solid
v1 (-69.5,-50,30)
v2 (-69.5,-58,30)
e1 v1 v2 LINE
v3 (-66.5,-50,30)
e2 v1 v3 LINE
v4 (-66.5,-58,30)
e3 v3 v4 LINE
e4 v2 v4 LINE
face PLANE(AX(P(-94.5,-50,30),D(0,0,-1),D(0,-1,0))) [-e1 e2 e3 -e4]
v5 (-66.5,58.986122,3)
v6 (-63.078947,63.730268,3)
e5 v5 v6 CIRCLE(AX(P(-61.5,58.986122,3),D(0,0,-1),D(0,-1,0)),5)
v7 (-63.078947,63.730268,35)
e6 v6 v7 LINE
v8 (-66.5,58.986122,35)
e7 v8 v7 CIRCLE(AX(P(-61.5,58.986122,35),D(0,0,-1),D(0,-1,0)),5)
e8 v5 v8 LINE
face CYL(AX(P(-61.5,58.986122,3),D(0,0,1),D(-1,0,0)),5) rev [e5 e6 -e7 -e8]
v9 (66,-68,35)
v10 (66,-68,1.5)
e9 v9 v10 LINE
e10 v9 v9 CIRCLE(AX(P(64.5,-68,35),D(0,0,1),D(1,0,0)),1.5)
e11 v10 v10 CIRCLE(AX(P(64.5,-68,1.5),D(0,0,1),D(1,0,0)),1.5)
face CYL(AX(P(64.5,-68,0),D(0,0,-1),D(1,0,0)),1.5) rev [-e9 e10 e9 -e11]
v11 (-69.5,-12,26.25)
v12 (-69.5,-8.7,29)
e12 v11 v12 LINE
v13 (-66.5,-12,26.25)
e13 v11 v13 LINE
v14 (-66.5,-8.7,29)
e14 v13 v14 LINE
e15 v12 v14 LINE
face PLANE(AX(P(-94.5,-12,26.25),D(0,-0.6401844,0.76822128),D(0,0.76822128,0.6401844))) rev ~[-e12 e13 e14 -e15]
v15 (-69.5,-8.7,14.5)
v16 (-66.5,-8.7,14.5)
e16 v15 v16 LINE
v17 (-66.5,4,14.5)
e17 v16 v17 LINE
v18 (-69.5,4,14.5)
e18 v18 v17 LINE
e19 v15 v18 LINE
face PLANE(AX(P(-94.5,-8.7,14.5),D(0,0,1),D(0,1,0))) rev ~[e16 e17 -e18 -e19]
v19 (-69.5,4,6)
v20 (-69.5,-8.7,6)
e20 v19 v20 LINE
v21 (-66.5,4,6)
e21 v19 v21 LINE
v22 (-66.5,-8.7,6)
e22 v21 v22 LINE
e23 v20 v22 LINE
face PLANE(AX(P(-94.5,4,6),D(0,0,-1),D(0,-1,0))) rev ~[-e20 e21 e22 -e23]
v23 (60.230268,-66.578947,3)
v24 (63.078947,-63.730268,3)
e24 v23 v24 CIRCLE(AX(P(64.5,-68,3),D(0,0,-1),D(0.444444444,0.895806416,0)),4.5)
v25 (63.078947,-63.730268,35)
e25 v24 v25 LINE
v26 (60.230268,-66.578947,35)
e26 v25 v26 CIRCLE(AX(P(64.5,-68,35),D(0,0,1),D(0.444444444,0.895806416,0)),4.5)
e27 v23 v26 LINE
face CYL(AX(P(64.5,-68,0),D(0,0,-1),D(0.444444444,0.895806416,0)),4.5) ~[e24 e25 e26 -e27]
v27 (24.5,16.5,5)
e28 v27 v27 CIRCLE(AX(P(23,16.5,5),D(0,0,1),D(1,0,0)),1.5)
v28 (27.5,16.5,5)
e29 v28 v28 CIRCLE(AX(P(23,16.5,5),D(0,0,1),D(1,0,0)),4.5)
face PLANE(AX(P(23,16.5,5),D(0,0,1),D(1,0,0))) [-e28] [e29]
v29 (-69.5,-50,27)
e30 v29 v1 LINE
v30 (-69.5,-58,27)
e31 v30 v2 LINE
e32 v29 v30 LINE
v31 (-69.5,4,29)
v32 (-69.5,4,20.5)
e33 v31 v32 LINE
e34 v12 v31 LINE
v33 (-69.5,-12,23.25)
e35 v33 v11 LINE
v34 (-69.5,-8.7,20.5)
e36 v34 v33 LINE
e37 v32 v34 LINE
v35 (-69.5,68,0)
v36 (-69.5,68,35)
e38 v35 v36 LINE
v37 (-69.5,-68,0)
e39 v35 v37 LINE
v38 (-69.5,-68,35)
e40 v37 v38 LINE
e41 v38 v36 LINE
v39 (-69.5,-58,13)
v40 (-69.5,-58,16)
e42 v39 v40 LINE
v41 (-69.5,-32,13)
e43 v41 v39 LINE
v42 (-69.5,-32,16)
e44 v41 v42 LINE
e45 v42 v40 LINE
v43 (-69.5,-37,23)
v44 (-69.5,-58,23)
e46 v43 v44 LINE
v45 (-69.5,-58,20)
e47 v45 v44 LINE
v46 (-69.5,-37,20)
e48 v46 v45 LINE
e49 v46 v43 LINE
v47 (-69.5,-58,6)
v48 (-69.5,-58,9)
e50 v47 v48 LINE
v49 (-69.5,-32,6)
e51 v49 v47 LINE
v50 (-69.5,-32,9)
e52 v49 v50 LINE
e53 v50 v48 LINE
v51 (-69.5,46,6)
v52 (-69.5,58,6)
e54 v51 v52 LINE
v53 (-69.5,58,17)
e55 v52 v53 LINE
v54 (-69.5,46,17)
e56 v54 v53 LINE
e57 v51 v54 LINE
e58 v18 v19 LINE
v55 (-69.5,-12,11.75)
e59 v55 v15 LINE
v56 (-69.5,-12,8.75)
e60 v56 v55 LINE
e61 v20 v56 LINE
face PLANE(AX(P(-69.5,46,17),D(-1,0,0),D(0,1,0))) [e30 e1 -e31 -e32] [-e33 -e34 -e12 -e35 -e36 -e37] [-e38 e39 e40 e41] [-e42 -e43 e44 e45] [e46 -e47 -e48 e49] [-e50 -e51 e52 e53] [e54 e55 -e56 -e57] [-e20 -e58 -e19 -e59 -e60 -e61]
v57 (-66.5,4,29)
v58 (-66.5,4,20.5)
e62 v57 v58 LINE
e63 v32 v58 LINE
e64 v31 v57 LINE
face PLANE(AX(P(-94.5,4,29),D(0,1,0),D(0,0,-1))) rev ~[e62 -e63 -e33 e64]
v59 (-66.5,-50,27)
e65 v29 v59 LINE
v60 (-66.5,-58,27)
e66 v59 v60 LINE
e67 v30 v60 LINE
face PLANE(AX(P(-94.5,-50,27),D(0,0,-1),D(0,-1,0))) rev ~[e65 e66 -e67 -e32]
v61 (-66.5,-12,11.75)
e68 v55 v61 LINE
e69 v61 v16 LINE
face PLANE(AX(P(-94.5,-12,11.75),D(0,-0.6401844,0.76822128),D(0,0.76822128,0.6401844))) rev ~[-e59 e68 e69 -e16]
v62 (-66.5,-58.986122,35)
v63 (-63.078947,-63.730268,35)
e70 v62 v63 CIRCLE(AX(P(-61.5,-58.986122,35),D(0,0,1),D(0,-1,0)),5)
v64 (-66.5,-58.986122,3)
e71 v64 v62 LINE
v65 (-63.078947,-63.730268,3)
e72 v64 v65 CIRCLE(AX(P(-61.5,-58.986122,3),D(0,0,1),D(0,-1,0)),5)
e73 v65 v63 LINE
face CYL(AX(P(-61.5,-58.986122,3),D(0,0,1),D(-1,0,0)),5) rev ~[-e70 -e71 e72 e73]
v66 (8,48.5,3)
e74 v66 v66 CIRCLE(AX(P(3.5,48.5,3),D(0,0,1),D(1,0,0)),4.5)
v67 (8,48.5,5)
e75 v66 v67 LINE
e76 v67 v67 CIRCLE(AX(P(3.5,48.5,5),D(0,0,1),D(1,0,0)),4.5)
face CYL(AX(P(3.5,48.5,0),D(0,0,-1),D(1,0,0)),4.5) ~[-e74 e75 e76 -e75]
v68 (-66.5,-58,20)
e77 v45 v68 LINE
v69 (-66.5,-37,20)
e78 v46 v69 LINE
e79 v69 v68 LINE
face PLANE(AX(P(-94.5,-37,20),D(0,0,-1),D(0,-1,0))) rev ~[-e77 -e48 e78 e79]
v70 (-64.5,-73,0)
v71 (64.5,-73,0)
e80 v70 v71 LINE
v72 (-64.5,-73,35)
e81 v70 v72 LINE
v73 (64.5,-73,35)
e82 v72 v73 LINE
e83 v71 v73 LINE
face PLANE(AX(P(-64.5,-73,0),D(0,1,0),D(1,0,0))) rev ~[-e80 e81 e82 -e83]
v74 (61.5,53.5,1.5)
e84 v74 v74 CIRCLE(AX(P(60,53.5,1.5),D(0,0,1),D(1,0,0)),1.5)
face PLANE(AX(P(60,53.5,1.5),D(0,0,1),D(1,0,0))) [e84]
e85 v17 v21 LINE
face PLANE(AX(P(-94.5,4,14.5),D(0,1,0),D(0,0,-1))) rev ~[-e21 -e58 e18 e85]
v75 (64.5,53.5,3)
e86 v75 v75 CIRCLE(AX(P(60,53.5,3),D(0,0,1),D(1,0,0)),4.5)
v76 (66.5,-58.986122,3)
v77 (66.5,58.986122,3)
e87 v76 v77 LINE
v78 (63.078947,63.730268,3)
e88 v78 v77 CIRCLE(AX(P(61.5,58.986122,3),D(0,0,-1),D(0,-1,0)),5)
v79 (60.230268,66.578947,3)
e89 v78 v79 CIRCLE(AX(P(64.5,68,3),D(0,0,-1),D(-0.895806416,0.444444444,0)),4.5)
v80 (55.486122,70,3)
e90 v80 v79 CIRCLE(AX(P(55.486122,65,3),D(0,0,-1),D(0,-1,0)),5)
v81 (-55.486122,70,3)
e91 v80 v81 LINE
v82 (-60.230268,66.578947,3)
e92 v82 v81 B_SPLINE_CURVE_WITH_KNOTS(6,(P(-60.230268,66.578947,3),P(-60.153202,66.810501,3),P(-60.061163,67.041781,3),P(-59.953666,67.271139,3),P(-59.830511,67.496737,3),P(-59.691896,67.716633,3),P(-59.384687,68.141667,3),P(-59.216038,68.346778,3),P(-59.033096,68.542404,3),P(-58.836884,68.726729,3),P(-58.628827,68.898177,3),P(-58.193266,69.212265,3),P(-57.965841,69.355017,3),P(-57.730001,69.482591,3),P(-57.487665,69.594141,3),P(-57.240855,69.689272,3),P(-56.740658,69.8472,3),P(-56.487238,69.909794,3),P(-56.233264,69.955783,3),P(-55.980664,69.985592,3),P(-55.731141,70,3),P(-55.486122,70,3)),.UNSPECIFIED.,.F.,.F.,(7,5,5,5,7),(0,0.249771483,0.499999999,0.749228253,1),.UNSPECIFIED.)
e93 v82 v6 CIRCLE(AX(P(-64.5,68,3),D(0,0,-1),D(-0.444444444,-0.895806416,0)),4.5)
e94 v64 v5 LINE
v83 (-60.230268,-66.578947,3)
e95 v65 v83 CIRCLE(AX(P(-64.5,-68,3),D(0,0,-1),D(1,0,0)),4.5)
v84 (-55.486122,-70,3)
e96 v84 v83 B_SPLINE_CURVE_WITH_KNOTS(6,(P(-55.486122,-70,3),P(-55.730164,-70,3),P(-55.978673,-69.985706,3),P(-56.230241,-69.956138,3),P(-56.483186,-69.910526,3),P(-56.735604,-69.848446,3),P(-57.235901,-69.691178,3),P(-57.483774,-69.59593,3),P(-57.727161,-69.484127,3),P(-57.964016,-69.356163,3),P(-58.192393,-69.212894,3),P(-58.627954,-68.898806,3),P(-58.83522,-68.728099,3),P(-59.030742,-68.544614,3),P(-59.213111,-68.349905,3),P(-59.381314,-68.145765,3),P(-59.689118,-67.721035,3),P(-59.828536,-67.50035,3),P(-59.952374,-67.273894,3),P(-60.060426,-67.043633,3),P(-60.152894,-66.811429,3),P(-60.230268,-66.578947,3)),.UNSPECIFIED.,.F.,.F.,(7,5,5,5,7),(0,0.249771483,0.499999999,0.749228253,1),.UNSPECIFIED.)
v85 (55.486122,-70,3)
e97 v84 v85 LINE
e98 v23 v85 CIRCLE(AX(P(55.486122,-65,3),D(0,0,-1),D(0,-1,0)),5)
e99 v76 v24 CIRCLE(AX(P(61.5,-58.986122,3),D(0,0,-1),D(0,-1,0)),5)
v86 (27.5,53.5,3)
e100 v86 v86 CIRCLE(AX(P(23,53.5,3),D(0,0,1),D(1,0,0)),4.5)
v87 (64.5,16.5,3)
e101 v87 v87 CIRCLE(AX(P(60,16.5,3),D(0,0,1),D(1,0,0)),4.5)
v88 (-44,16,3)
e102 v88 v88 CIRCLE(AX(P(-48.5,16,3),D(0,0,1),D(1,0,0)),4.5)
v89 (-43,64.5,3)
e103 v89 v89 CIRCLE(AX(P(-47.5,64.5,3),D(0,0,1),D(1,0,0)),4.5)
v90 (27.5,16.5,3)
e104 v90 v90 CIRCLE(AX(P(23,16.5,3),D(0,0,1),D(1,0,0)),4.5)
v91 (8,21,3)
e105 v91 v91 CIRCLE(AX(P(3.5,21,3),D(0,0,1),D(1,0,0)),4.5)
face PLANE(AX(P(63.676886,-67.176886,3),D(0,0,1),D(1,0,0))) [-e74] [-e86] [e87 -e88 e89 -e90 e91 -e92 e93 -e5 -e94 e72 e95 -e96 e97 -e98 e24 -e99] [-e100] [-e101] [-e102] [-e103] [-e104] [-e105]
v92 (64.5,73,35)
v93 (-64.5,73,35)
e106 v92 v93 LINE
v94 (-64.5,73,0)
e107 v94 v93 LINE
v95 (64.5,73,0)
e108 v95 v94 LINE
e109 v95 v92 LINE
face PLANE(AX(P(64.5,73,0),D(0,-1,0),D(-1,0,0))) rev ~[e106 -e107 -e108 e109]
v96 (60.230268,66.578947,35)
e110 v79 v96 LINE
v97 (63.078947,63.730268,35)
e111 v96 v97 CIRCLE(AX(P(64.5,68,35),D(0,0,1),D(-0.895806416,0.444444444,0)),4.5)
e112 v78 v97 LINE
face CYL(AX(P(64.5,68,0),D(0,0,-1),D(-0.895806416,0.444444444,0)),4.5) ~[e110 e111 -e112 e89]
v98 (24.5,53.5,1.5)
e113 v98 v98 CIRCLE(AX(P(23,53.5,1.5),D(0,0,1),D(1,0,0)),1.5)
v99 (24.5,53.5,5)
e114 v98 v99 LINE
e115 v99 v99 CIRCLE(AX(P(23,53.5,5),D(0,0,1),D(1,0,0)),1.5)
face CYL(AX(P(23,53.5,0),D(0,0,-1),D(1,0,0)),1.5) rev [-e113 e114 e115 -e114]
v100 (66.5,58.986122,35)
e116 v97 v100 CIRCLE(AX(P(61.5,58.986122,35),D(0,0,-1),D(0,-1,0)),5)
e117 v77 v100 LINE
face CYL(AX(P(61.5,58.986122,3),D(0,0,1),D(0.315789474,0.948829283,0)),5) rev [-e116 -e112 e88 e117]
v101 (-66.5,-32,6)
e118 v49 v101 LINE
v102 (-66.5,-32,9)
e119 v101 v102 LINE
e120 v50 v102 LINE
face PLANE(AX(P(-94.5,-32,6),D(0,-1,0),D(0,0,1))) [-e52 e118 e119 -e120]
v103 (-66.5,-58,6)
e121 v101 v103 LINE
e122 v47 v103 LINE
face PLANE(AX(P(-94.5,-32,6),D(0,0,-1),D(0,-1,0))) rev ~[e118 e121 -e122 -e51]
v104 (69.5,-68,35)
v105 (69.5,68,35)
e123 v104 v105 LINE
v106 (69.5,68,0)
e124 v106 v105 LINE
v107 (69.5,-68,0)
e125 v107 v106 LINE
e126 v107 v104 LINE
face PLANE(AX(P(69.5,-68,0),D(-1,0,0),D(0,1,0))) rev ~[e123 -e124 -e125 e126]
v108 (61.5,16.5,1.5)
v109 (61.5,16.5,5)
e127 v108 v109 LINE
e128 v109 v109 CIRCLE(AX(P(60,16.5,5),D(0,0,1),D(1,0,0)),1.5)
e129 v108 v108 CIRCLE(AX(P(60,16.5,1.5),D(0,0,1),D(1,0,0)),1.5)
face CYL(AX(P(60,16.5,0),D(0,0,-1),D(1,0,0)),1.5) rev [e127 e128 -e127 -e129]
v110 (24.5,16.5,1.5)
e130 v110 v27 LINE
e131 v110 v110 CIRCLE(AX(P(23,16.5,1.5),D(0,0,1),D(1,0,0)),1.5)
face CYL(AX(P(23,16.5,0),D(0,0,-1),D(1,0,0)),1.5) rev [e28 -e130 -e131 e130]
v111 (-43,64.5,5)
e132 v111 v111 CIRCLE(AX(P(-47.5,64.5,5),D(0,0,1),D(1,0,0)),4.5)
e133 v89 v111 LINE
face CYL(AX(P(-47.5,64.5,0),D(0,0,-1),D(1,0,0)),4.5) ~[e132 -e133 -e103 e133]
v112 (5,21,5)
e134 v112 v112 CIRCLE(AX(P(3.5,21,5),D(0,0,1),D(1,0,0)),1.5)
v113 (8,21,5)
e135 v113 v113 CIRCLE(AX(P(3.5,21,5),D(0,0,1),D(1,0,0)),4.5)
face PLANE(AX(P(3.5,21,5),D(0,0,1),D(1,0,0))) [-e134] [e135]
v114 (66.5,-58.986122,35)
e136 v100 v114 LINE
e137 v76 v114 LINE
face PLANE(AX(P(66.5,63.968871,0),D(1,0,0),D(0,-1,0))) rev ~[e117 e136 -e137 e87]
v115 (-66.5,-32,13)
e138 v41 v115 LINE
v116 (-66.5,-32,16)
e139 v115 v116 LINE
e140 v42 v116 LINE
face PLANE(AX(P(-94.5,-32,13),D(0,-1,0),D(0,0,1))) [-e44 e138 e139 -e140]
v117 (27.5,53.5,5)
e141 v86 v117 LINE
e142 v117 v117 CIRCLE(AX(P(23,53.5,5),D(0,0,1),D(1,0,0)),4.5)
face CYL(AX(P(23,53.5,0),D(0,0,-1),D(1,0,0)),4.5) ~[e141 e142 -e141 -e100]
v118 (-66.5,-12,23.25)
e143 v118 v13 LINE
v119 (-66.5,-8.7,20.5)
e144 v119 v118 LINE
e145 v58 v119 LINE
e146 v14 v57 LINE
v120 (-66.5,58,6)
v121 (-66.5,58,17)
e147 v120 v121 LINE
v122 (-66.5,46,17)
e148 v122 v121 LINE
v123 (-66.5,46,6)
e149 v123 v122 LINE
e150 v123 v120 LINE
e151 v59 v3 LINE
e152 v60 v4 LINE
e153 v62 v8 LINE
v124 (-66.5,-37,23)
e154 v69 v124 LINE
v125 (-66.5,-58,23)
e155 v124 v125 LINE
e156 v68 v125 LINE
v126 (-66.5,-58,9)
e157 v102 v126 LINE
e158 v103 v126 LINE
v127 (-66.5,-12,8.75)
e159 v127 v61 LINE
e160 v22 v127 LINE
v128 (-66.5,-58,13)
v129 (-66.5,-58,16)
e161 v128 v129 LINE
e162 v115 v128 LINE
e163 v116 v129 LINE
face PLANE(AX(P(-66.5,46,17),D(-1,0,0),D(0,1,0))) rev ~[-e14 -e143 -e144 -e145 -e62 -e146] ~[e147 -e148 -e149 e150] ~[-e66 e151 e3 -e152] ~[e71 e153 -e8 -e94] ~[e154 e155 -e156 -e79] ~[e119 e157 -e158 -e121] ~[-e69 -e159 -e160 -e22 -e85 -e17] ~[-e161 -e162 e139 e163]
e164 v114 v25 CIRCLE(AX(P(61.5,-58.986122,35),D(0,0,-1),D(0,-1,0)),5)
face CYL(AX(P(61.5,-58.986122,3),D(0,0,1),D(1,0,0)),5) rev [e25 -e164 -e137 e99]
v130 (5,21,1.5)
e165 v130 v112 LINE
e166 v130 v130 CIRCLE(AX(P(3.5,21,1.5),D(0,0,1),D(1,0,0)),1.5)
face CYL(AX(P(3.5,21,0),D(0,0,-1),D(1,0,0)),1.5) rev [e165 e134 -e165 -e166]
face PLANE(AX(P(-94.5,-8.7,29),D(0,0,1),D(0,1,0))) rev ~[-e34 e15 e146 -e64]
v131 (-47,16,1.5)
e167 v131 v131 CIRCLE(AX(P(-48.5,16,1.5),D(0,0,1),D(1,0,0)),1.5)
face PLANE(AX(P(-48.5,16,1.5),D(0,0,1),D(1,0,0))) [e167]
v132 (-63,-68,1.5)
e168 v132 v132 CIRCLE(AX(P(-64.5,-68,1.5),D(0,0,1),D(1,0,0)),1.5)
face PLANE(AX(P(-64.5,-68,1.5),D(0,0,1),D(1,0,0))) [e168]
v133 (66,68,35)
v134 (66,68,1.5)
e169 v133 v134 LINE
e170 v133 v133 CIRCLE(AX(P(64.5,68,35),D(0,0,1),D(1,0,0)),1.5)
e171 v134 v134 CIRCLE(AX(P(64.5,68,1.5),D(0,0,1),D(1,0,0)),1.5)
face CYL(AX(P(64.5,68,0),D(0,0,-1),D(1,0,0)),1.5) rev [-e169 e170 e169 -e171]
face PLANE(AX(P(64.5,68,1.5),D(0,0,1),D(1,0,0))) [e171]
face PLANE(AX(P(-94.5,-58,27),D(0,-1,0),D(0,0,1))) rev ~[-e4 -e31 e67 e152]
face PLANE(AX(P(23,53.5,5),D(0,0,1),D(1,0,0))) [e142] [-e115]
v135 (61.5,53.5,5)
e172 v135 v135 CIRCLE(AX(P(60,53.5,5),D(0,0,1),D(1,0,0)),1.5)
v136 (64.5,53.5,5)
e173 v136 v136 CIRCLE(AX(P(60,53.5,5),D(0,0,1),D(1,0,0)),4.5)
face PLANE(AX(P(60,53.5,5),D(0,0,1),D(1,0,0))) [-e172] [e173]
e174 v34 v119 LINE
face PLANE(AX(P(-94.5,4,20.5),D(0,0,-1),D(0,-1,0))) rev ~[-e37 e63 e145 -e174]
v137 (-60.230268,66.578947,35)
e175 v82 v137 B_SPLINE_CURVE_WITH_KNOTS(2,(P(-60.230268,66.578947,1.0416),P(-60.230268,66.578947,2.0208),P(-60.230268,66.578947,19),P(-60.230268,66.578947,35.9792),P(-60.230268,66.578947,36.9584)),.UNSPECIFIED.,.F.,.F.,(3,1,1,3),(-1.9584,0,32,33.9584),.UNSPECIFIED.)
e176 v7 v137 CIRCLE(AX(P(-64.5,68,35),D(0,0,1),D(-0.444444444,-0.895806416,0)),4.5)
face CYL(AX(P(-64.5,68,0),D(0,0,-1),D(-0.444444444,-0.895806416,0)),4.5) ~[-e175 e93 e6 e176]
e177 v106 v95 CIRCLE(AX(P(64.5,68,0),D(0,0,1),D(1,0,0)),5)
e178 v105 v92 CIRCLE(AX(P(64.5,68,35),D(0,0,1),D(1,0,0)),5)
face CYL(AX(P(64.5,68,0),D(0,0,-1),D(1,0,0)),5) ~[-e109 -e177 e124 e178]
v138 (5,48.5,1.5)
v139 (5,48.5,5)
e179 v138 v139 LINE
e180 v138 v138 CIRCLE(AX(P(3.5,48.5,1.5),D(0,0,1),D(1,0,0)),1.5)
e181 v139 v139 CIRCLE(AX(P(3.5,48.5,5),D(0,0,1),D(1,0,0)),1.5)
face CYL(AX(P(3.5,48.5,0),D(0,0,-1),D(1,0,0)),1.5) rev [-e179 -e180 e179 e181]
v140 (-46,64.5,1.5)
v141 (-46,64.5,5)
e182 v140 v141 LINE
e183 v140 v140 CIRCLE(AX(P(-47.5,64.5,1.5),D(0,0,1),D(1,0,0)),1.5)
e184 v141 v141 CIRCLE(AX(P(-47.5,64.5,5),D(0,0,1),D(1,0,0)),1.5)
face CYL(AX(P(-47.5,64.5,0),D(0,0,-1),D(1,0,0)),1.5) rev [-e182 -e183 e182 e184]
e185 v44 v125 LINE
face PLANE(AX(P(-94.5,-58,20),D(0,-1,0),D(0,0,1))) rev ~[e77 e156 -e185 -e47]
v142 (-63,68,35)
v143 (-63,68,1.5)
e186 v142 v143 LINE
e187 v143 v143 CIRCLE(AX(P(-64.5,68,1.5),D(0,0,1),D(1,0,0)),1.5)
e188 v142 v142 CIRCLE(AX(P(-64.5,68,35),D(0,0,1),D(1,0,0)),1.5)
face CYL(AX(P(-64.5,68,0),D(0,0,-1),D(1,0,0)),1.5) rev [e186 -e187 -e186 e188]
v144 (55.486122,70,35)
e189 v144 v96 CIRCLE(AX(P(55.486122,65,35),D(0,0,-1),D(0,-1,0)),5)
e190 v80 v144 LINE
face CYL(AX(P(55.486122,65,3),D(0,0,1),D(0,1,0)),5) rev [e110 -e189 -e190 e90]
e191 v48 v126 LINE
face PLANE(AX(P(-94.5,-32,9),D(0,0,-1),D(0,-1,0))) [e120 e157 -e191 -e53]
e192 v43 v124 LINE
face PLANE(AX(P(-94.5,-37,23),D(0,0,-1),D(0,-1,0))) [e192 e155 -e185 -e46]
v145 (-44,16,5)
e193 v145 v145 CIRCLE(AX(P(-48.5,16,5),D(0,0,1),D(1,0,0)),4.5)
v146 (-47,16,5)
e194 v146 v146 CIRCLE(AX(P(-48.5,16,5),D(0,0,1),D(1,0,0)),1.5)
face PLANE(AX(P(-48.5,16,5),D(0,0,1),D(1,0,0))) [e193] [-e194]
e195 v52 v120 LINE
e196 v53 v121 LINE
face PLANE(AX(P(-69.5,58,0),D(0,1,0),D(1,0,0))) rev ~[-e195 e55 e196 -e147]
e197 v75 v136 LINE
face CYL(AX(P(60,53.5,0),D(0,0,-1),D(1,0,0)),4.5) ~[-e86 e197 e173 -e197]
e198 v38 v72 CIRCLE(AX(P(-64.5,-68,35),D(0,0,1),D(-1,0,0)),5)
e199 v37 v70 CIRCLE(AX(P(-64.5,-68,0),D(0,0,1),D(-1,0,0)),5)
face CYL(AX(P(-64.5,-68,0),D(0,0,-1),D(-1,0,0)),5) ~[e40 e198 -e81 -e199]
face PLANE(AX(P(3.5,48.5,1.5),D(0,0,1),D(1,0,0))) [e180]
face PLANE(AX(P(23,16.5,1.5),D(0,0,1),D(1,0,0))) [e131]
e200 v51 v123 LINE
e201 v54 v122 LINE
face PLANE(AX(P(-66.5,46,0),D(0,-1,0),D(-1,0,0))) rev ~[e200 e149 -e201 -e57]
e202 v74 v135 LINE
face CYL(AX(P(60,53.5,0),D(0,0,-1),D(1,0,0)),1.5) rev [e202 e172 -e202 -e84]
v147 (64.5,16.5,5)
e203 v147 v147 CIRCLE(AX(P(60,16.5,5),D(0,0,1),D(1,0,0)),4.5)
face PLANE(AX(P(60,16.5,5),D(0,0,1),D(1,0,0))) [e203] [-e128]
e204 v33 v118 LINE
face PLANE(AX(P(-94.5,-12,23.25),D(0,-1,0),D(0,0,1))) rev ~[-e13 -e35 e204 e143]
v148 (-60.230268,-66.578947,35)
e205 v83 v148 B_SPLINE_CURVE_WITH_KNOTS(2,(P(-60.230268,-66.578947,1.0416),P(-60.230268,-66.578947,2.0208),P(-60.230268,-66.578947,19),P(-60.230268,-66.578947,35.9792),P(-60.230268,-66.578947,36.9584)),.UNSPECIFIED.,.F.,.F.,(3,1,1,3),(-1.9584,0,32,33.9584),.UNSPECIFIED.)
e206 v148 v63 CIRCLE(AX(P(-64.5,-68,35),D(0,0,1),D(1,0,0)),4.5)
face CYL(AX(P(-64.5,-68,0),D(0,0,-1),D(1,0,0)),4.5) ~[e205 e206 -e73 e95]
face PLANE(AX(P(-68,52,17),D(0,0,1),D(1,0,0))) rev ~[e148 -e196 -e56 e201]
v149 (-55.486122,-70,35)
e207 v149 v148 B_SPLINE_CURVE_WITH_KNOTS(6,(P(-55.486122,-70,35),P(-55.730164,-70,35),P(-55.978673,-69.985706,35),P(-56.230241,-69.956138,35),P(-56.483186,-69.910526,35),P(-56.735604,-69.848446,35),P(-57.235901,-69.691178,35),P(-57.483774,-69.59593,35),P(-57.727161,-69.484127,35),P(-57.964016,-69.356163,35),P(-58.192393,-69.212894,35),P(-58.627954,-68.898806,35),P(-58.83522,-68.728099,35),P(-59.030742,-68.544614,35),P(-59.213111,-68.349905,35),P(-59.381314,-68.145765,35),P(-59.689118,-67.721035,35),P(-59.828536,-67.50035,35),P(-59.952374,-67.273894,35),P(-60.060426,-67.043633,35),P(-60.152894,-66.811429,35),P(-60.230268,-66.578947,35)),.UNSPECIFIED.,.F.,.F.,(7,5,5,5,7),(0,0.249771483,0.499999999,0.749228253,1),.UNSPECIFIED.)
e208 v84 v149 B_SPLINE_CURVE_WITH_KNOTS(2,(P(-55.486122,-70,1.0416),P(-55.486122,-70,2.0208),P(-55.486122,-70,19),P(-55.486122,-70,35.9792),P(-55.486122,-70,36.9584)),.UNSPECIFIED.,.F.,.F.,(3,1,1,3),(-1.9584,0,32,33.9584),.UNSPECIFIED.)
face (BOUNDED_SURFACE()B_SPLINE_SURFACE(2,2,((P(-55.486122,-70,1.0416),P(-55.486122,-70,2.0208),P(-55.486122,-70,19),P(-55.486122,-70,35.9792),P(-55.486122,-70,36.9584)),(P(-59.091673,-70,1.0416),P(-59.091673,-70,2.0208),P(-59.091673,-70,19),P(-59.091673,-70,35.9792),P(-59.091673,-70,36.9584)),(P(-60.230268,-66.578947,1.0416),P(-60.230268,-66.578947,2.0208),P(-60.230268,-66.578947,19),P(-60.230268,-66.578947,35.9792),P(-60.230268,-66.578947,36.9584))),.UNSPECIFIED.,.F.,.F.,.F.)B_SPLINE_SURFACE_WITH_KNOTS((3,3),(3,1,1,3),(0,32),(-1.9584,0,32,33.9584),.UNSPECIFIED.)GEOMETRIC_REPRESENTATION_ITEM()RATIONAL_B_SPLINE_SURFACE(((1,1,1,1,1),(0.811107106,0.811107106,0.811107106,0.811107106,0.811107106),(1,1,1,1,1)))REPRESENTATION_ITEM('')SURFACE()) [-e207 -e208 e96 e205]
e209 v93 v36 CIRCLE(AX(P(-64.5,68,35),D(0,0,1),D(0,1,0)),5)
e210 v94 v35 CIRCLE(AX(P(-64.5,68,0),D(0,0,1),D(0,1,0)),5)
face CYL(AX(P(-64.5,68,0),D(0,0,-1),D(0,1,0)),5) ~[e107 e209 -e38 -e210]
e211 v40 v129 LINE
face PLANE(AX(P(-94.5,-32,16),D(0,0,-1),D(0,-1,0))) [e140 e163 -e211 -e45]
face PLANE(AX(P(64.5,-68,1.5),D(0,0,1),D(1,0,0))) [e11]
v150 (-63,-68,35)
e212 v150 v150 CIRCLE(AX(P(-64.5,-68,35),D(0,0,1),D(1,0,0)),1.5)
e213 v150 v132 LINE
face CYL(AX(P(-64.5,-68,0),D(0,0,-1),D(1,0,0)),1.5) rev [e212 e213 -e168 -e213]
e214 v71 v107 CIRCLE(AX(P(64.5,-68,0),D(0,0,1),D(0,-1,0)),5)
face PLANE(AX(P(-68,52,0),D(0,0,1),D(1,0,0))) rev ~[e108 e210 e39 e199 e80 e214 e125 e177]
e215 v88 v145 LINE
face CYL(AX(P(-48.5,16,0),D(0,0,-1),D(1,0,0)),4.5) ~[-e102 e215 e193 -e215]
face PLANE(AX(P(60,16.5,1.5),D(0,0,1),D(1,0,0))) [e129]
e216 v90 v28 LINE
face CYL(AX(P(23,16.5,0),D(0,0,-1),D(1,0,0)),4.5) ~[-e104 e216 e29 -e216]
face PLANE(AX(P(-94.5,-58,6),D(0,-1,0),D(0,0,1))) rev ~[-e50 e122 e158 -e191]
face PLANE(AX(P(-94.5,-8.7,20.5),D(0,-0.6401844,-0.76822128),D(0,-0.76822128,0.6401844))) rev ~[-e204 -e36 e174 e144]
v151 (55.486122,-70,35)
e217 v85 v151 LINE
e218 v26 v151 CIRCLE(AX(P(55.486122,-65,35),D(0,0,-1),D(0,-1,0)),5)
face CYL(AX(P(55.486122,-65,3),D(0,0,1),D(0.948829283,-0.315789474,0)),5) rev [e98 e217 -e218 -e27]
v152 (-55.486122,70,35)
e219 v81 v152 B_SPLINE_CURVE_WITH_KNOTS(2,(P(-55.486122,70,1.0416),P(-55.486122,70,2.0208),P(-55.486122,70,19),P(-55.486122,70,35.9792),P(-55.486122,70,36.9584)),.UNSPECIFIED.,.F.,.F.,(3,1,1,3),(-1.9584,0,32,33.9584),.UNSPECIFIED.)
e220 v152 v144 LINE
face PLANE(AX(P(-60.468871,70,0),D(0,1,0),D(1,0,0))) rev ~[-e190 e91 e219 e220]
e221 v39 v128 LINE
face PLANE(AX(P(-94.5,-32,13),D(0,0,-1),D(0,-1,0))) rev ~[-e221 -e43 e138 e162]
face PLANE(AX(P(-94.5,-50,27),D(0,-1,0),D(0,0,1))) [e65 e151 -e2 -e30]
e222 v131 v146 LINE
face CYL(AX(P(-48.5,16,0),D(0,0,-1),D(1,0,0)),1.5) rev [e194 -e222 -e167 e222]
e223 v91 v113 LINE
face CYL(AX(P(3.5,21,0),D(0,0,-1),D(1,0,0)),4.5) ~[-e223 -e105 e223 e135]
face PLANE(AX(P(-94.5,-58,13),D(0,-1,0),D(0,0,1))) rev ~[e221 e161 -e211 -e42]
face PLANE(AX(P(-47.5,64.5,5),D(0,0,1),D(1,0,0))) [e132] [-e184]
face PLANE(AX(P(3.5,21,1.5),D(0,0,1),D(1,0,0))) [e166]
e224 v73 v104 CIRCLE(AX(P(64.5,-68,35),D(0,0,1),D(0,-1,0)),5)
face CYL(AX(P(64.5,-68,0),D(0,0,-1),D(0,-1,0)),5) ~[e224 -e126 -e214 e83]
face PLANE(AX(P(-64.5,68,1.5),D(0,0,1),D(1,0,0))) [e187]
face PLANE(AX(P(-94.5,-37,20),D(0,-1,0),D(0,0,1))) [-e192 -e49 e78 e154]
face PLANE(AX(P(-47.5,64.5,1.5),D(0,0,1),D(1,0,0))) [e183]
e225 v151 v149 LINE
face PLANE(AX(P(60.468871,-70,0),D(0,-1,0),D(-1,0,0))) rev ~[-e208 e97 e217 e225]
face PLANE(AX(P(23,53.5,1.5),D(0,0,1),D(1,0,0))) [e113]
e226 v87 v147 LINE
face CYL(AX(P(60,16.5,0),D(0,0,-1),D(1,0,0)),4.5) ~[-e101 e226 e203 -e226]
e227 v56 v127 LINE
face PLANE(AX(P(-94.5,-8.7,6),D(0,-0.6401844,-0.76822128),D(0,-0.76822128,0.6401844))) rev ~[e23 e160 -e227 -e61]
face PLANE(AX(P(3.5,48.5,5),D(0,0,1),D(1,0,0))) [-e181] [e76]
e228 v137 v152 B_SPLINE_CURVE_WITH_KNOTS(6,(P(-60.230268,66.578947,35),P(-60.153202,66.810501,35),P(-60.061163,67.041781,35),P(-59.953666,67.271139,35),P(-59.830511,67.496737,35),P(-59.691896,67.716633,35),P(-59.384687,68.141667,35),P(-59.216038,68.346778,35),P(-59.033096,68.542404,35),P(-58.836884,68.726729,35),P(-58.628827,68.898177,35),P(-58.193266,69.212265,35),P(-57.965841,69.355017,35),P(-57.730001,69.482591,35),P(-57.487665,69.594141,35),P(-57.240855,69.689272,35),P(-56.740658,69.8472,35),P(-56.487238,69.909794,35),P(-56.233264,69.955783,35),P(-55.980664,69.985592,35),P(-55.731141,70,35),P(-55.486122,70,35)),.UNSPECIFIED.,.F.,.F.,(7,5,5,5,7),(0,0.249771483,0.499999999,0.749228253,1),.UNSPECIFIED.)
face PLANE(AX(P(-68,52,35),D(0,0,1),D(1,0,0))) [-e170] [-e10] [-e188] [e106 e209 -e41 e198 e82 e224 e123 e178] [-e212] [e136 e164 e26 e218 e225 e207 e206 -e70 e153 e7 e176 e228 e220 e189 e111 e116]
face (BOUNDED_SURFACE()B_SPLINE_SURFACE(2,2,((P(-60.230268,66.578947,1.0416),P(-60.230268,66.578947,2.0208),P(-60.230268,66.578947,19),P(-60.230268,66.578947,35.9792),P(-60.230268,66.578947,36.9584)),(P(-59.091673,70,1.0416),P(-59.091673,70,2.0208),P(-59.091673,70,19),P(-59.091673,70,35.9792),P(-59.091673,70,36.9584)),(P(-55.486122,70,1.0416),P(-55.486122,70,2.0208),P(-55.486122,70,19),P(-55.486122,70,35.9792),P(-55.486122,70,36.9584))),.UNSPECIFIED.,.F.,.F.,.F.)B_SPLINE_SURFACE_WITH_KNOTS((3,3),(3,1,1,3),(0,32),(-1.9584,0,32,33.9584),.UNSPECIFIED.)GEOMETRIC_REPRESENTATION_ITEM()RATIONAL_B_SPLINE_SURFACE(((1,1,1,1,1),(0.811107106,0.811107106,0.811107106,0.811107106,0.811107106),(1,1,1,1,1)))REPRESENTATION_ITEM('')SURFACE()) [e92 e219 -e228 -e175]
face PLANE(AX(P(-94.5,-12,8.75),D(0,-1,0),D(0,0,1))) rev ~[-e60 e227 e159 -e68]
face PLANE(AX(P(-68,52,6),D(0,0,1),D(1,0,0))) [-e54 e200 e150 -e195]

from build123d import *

# Parameters (mm, degrees)
F0_R      = 1.5
F0_R_2    = 4.5
F1_DEPTH  = 3
F2_DEPTH  = 5
F3_DEPTH  = 1.5
F4_DEPTH  = 35
F0_W      = 3
F0_H      = 12
F5_DEPTH  = 6
F6_R      = 5
F7_START  = 17
F7_DEPTH  = 18
F9_W      = 8
F9_H      = 3
F9_W_2    = 21
F9_W_3    = 26
F10_DEPTH = 28


with BuildPart() as f1:
    # F0 (on Top) → F1 (new body)
    with BuildSketch(Plane.XY):
        with BuildLine():
            Line((60.4688711259, -70), (66.5, -70))
            Line((66.5, -70), (66.5, -63.9688711259))
            ThreePointArc((66.5, -63.9688711259), (61.3180194847, -64.8180194847), (60.4688711259, -70))
        make_face()
        with Locations((64.5, -68)):
            Circle(F0_R, mode=Mode.SUBTRACT)
        with BuildLine():
            Line((-60.4688711259, -70), (60.4688711259, -70))
            ThreePointArc((60.4688711259, -70), (61.3180194847, -64.8180194847), (66.5, -63.9688711259))
            Line((66.5, -63.9688711259), (66.5, 63.9688711259))
            ThreePointArc((66.5, 63.9688711259), (61.3180194847, 64.8180194847), (60.4688711259, 70))
            Line((60.4688711259, 70), (-60.4688711259, 70))
            ThreePointArc((-60.4688711259, 70), (-60.1187855603, 69.0271124735), (-60, 68))
            ThreePointArc((-60, 68), (-62.1282917549, 64.1757353648), (-66.5, 63.9688711259))
            Line((-66.5, 63.9688711259), (-66.5, 58))
            Line((-66.5, 58), (-66.5, 46))
            Line((-66.5, 46), (-66.5, -63.9688711259))
            ThreePointArc((-66.5, -63.9688711259), (-62.1282917549, -64.1757353648), (-60, -68))
            ThreePointArc((-60, -68), (-60.1187855603, -69.0271124735), (-60.4688711259, -70))
        make_face()
        with Locations((-48.5, 16)):
            Circle(F0_R_2, mode=Mode.SUBTRACT)
        with Locations((-47.5, 64.5)):
            Circle(F0_R_2, mode=Mode.SUBTRACT)
        with Locations((23, 16.5)):
            Circle(F0_R_2, mode=Mode.SUBTRACT)
        with Locations((3.5, 21)):
            Circle(F0_R_2, mode=Mode.SUBTRACT)
        with Locations((60, 16.5)):
            Circle(F0_R_2, mode=Mode.SUBTRACT)
        with Locations((3.5, 48.5)):
            Circle(F0_R_2, mode=Mode.SUBTRACT)
        with Locations((23, 53.5)):
            Circle(F0_R_2, mode=Mode.SUBTRACT)
        with Locations((60, 53.5)):
            Circle(F0_R_2, mode=Mode.SUBTRACT)
        with BuildLine():
            Line((-66.5, -70), (-60.4688711259, -70))
            ThreePointArc((-60.4688711259, -70), (-60.1187855603, -69.0271124735), (-60, -68))
            ThreePointArc((-60, -68), (-62.1282917549, -64.1757353648), (-66.5, -63.9688711259))
            Line((-66.5, -63.9688711259), (-66.5, -70))
        make_face()
        with Locations((-64.5, -68)):
            Circle(F0_R, mode=Mode.SUBTRACT)
        with BuildLine():
            ThreePointArc((60.4688711259, 70), (61.3180194847, 64.8180194847), (66.5, 63.9688711259))
            Line((66.5, 63.9688711259), (66.5, 70))
            Line((66.5, 70), (60.4688711259, 70))
        make_face()
        with Locations((64.5, 68)):
            Circle(F0_R, mode=Mode.SUBTRACT)
        with BuildLine():
            ThreePointArc((-60, 68), (-60.1187855603, 69.0271124735), (-60.4688711259, 70))
            Line((-60.4688711259, 70), (-66.5, 70))
            Line((-66.5, 70), (-66.5, 63.9688711259))
            ThreePointArc((-66.5, 63.9688711259), (-62.1282917549, 64.1757353648), (-60, 68))
        make_face()
        with Locations((-64.5, 68)):
            Circle(F0_R, mode=Mode.SUBTRACT)
    extrude(amount=F1_DEPTH)

    # F0 (on Top) → F2 (join)
    with BuildSketch(Plane.XY):
        with Locations((-47.5, 64.5)):
            Circle(F0_R_2)
        with Locations((-47.5, 64.5)):
            Circle(F0_R, mode=Mode.SUBTRACT)
        with Locations((-48.5, 16)):
            Circle(F0_R_2)
        with Locations((-48.5, 16)):
            Circle(F0_R, mode=Mode.SUBTRACT)
        with Locations((3.5, 48.5)):
            Circle(F0_R_2)
        with Locations((3.5, 48.5)):
            Circle(F0_R, mode=Mode.SUBTRACT)
        with Locations((23, 53.5)):
            Circle(F0_R_2)
        with Locations((23, 53.5)):
            Circle(F0_R, mode=Mode.SUBTRACT)
        with Locations((23, 16.5)):
            Circle(F0_R_2)
        with Locations((23, 16.5)):
            Circle(F0_R, mode=Mode.SUBTRACT)
        with Locations((60, 53.5)):
            Circle(F0_R_2)
        with Locations((60, 53.5)):
            Circle(F0_R, mode=Mode.SUBTRACT)
        with Locations((60, 16.5)):
            Circle(F0_R_2)
        with Locations((60, 16.5)):
            Circle(F0_R, mode=Mode.SUBTRACT)
        with Locations((3.5, 21)):
            Circle(F0_R_2)
        with Locations((3.5, 21)):
            Circle(F0_R, mode=Mode.SUBTRACT)
    extrude(amount=F2_DEPTH)

    # F0 (on Top) → F3 (join)
    with BuildSketch(Plane.XY):
        with Locations((-47.5, 64.5)):
            Circle(F0_R)
        with Locations((-48.5, 16)):
            Circle(F0_R)
        with Locations((3.5, 48.5)):
            Circle(F0_R)
        with Locations((3.5, 21)):
            Circle(F0_R)
        with Locations((23, 53.5)):
            Circle(F0_R)
        with Locations((23, 16.5)):
            Circle(F0_R)
        with Locations((60, 16.5)):
            Circle(F0_R)
        with Locations((60, 53.5)):
            Circle(F0_R)
        with Locations((-64.5, -68)):
            Circle(F0_R)
        with Locations((64.5, -68)):
            Circle(F0_R)
        with Locations((64.5, 68)):
            Circle(F0_R)
        with Locations((-64.5, 68)):
            Circle(F0_R)
    extrude(amount=F3_DEPTH)

    # F0 (on Top) → F4 (join)
    with BuildSketch(Plane.XY):
        with BuildLine():
            Line((66.5, -63.9688711259), (66.5, -70))
            Line((66.5, -70), (60.4688711259, -70))
            ThreePointArc((60.4688711259, -70), (65.5271124735, -72.3812144397), (69, -68))
            ThreePointArc((69, -68), (68.3242646352, -65.6282917549), (66.5, -63.9688711259))
        make_face()
        with BuildLine():
            ThreePointArc((69, -68), (65.5271124735, -72.3812144397), (60.4688711259, -70))
            Line((60.4688711259, -70), (-60.4688711259, -70))
            ThreePointArc((-60.4688711259, -70), (-67.6819805153, -71.1819805153), (-66.5, -63.9688711259))
            Line((-66.5, -63.9688711259), (-66.5, 46))
            Line((-66.5, 46), (-69.5, 46))
            Line((-69.5, 46), (-69.5, -68))
            ThreePointArc((-69.5, -68), (-68.0355339059, -71.5355339059), (-64.5, -73))
            Line((-64.5, -73), (64.5, -73))
            ThreePointArc((64.5, -73), (68.0355339059, -71.5355339059), (69.5, -68))
            Line((69.5, -68), (69.5, 68))
            ThreePointArc((69.5, 68), (68.0355339059, 71.5355339059), (64.5, 73))
            Line((64.5, 73), (-64.5, 73))
            ThreePointArc((-64.5, 73), (-68.0355339059, 71.5355339059), (-69.5, 68))
            Line((-69.5, 68), (-69.5, 58))
            Line((-69.5, 58), (-66.5, 58))
            Line((-66.5, 58), (-66.5, 63.9688711259))
            ThreePointArc((-66.5, 63.9688711259), (-67.6819805153, 71.1819805153), (-60.4688711259, 70))
            Line((-60.4688711259, 70), (60.4688711259, 70))
            ThreePointArc((60.4688711259, 70), (65.5271124735, 72.3812144397), (69, 68))
            ThreePointArc((69, 68), (68.3242646352, 65.6282917549), (66.5, 63.9688711259))
            Line((66.5, 63.9688711259), (66.5, -63.9688711259))
            ThreePointArc((66.5, -63.9688711259), (68.3242646352, -65.6282917549), (69, -68))
        make_face()
        with BuildLine():
            ThreePointArc((-66.5, -63.9688711259), (-67.6819805153, -71.1819805153), (-60.4688711259, -70))
            Line((-60.4688711259, -70), (-66.5, -70))
            Line((-66.5, -70), (-66.5, -63.9688711259))
        make_face()
        with BuildLine():
            Line((-66.5, 70), (-60.4688711259, 70))
            ThreePointArc((-60.4688711259, 70), (-67.6819805153, 71.1819805153), (-66.5, 63.9688711259))
            Line((-66.5, 63.9688711259), (-66.5, 70))
        make_face()
        with BuildLine():
            Line((66.5, 70), (66.5, 63.9688711259))
            ThreePointArc((66.5, 63.9688711259), (68.3242646352, 65.6282917549), (69, 68))
            ThreePointArc((69, 68), (65.5271124735, 72.3812144397), (60.4688711259, 70))
            Line((60.4688711259, 70), (66.5, 70))
        make_face()
        with BuildLine():
            ThreePointArc((60.4688711259, 70), (61.3180194847, 64.8180194847), (66.5, 63.9688711259))
            Line((66.5, 63.9688711259), (66.5, 70))
            Line((66.5, 70), (60.4688711259, 70))
        make_face()
        with Locations((64.5, 68)):
            Circle(F0_R, mode=Mode.SUBTRACT)
        with BuildLine():
            Line((60.4688711259, -70), (66.5, -70))
            Line((66.5, -70), (66.5, -63.9688711259))
            ThreePointArc((66.5, -63.9688711259), (61.3180194847, -64.8180194847), (60.4688711259, -70))
        make_face()
        with Locations((64.5, -68)):
            Circle(F0_R, mode=Mode.SUBTRACT)
        with BuildLine():
            ThreePointArc((-60, 68), (-60.1187855603, 69.0271124735), (-60.4688711259, 70))
            Line((-60.4688711259, 70), (-66.5, 70))
            Line((-66.5, 70), (-66.5, 63.9688711259))
            ThreePointArc((-66.5, 63.9688711259), (-62.1282917549, 64.1757353648), (-60, 68))
        make_face()
        with Locations((-64.5, 68)):
            Circle(F0_R, mode=Mode.SUBTRACT)
        with BuildLine():
            Line((-66.5, -70), (-60.4688711259, -70))
            ThreePointArc((-60.4688711259, -70), (-60.1187855603, -69.0271124735), (-60, -68))
            ThreePointArc((-60, -68), (-62.1282917549, -64.1757353648), (-66.5, -63.9688711259))
            Line((-66.5, -63.9688711259), (-66.5, -70))
        make_face()
        with Locations((-64.5, -68)):
            Circle(F0_R, mode=Mode.SUBTRACT)
    extrude(amount=F4_DEPTH)

    # F0 (on Top) → F5 (join)
    with BuildSketch(Plane.XY):
        with Locations((-68, 52)):
            Rectangle(F0_W, F0_H)
    extrude(amount=F5_DEPTH)

    # F6
    f6_edges = [f1.edges().sort_by_distance(p)[0] for p in [
        (60.468871, 70, 19),
        (66.5, 63.968871, 19),
        (-60.468871, 70, 19),
        (-66.5, 63.968871, 19),
        (-66.5, -63.968871, 19),
        (-60.468871, -70, 19),
        (66.5, -63.968871, 19),
        (60.468871, -70, 19),
    ]]
    fillet(f6_edges, radius=F6_R)

    # F0 (on Top) → F7 (join)
    with BuildSketch(Plane.XY.offset(F7_START)):
        with Locations((-68, 52)):
            Rectangle(F0_W, F0_H)
    extrude(amount=F7_DEPTH)

    # F9 (on offset) → F10 (cut)
    with BuildSketch(Plane(origin=(-94.5, 0, 0), x_dir=(0, -1, 0), z_dir=(-1, 0, 0))):
        with Locations((54, 28.5)):
            Rectangle(F9_W, F9_H)
        with Locations((47.5, 21.5)):
            Rectangle(F9_W_2, F9_H)
        with Locations((45, 14.5)):
            Rectangle(F9_W_3, F9_H)
        with Locations((45, 7.5)):
            Rectangle(F9_W_3, F9_H)
        Polygon((8.7, 14.5), (-4, 14.5), (-4, 6), (8.7, 6), (12, 8.75), (12, 11.75), align=None)
        Polygon((8.7, 29), (-4, 29), (-4, 20.5), (8.7, 20.5), (12, 23.25), (12, 26.25), align=None)
    extrude(amount=-F10_DEPTH, mode=Mode.SUBTRACT)


solid = f1.part
